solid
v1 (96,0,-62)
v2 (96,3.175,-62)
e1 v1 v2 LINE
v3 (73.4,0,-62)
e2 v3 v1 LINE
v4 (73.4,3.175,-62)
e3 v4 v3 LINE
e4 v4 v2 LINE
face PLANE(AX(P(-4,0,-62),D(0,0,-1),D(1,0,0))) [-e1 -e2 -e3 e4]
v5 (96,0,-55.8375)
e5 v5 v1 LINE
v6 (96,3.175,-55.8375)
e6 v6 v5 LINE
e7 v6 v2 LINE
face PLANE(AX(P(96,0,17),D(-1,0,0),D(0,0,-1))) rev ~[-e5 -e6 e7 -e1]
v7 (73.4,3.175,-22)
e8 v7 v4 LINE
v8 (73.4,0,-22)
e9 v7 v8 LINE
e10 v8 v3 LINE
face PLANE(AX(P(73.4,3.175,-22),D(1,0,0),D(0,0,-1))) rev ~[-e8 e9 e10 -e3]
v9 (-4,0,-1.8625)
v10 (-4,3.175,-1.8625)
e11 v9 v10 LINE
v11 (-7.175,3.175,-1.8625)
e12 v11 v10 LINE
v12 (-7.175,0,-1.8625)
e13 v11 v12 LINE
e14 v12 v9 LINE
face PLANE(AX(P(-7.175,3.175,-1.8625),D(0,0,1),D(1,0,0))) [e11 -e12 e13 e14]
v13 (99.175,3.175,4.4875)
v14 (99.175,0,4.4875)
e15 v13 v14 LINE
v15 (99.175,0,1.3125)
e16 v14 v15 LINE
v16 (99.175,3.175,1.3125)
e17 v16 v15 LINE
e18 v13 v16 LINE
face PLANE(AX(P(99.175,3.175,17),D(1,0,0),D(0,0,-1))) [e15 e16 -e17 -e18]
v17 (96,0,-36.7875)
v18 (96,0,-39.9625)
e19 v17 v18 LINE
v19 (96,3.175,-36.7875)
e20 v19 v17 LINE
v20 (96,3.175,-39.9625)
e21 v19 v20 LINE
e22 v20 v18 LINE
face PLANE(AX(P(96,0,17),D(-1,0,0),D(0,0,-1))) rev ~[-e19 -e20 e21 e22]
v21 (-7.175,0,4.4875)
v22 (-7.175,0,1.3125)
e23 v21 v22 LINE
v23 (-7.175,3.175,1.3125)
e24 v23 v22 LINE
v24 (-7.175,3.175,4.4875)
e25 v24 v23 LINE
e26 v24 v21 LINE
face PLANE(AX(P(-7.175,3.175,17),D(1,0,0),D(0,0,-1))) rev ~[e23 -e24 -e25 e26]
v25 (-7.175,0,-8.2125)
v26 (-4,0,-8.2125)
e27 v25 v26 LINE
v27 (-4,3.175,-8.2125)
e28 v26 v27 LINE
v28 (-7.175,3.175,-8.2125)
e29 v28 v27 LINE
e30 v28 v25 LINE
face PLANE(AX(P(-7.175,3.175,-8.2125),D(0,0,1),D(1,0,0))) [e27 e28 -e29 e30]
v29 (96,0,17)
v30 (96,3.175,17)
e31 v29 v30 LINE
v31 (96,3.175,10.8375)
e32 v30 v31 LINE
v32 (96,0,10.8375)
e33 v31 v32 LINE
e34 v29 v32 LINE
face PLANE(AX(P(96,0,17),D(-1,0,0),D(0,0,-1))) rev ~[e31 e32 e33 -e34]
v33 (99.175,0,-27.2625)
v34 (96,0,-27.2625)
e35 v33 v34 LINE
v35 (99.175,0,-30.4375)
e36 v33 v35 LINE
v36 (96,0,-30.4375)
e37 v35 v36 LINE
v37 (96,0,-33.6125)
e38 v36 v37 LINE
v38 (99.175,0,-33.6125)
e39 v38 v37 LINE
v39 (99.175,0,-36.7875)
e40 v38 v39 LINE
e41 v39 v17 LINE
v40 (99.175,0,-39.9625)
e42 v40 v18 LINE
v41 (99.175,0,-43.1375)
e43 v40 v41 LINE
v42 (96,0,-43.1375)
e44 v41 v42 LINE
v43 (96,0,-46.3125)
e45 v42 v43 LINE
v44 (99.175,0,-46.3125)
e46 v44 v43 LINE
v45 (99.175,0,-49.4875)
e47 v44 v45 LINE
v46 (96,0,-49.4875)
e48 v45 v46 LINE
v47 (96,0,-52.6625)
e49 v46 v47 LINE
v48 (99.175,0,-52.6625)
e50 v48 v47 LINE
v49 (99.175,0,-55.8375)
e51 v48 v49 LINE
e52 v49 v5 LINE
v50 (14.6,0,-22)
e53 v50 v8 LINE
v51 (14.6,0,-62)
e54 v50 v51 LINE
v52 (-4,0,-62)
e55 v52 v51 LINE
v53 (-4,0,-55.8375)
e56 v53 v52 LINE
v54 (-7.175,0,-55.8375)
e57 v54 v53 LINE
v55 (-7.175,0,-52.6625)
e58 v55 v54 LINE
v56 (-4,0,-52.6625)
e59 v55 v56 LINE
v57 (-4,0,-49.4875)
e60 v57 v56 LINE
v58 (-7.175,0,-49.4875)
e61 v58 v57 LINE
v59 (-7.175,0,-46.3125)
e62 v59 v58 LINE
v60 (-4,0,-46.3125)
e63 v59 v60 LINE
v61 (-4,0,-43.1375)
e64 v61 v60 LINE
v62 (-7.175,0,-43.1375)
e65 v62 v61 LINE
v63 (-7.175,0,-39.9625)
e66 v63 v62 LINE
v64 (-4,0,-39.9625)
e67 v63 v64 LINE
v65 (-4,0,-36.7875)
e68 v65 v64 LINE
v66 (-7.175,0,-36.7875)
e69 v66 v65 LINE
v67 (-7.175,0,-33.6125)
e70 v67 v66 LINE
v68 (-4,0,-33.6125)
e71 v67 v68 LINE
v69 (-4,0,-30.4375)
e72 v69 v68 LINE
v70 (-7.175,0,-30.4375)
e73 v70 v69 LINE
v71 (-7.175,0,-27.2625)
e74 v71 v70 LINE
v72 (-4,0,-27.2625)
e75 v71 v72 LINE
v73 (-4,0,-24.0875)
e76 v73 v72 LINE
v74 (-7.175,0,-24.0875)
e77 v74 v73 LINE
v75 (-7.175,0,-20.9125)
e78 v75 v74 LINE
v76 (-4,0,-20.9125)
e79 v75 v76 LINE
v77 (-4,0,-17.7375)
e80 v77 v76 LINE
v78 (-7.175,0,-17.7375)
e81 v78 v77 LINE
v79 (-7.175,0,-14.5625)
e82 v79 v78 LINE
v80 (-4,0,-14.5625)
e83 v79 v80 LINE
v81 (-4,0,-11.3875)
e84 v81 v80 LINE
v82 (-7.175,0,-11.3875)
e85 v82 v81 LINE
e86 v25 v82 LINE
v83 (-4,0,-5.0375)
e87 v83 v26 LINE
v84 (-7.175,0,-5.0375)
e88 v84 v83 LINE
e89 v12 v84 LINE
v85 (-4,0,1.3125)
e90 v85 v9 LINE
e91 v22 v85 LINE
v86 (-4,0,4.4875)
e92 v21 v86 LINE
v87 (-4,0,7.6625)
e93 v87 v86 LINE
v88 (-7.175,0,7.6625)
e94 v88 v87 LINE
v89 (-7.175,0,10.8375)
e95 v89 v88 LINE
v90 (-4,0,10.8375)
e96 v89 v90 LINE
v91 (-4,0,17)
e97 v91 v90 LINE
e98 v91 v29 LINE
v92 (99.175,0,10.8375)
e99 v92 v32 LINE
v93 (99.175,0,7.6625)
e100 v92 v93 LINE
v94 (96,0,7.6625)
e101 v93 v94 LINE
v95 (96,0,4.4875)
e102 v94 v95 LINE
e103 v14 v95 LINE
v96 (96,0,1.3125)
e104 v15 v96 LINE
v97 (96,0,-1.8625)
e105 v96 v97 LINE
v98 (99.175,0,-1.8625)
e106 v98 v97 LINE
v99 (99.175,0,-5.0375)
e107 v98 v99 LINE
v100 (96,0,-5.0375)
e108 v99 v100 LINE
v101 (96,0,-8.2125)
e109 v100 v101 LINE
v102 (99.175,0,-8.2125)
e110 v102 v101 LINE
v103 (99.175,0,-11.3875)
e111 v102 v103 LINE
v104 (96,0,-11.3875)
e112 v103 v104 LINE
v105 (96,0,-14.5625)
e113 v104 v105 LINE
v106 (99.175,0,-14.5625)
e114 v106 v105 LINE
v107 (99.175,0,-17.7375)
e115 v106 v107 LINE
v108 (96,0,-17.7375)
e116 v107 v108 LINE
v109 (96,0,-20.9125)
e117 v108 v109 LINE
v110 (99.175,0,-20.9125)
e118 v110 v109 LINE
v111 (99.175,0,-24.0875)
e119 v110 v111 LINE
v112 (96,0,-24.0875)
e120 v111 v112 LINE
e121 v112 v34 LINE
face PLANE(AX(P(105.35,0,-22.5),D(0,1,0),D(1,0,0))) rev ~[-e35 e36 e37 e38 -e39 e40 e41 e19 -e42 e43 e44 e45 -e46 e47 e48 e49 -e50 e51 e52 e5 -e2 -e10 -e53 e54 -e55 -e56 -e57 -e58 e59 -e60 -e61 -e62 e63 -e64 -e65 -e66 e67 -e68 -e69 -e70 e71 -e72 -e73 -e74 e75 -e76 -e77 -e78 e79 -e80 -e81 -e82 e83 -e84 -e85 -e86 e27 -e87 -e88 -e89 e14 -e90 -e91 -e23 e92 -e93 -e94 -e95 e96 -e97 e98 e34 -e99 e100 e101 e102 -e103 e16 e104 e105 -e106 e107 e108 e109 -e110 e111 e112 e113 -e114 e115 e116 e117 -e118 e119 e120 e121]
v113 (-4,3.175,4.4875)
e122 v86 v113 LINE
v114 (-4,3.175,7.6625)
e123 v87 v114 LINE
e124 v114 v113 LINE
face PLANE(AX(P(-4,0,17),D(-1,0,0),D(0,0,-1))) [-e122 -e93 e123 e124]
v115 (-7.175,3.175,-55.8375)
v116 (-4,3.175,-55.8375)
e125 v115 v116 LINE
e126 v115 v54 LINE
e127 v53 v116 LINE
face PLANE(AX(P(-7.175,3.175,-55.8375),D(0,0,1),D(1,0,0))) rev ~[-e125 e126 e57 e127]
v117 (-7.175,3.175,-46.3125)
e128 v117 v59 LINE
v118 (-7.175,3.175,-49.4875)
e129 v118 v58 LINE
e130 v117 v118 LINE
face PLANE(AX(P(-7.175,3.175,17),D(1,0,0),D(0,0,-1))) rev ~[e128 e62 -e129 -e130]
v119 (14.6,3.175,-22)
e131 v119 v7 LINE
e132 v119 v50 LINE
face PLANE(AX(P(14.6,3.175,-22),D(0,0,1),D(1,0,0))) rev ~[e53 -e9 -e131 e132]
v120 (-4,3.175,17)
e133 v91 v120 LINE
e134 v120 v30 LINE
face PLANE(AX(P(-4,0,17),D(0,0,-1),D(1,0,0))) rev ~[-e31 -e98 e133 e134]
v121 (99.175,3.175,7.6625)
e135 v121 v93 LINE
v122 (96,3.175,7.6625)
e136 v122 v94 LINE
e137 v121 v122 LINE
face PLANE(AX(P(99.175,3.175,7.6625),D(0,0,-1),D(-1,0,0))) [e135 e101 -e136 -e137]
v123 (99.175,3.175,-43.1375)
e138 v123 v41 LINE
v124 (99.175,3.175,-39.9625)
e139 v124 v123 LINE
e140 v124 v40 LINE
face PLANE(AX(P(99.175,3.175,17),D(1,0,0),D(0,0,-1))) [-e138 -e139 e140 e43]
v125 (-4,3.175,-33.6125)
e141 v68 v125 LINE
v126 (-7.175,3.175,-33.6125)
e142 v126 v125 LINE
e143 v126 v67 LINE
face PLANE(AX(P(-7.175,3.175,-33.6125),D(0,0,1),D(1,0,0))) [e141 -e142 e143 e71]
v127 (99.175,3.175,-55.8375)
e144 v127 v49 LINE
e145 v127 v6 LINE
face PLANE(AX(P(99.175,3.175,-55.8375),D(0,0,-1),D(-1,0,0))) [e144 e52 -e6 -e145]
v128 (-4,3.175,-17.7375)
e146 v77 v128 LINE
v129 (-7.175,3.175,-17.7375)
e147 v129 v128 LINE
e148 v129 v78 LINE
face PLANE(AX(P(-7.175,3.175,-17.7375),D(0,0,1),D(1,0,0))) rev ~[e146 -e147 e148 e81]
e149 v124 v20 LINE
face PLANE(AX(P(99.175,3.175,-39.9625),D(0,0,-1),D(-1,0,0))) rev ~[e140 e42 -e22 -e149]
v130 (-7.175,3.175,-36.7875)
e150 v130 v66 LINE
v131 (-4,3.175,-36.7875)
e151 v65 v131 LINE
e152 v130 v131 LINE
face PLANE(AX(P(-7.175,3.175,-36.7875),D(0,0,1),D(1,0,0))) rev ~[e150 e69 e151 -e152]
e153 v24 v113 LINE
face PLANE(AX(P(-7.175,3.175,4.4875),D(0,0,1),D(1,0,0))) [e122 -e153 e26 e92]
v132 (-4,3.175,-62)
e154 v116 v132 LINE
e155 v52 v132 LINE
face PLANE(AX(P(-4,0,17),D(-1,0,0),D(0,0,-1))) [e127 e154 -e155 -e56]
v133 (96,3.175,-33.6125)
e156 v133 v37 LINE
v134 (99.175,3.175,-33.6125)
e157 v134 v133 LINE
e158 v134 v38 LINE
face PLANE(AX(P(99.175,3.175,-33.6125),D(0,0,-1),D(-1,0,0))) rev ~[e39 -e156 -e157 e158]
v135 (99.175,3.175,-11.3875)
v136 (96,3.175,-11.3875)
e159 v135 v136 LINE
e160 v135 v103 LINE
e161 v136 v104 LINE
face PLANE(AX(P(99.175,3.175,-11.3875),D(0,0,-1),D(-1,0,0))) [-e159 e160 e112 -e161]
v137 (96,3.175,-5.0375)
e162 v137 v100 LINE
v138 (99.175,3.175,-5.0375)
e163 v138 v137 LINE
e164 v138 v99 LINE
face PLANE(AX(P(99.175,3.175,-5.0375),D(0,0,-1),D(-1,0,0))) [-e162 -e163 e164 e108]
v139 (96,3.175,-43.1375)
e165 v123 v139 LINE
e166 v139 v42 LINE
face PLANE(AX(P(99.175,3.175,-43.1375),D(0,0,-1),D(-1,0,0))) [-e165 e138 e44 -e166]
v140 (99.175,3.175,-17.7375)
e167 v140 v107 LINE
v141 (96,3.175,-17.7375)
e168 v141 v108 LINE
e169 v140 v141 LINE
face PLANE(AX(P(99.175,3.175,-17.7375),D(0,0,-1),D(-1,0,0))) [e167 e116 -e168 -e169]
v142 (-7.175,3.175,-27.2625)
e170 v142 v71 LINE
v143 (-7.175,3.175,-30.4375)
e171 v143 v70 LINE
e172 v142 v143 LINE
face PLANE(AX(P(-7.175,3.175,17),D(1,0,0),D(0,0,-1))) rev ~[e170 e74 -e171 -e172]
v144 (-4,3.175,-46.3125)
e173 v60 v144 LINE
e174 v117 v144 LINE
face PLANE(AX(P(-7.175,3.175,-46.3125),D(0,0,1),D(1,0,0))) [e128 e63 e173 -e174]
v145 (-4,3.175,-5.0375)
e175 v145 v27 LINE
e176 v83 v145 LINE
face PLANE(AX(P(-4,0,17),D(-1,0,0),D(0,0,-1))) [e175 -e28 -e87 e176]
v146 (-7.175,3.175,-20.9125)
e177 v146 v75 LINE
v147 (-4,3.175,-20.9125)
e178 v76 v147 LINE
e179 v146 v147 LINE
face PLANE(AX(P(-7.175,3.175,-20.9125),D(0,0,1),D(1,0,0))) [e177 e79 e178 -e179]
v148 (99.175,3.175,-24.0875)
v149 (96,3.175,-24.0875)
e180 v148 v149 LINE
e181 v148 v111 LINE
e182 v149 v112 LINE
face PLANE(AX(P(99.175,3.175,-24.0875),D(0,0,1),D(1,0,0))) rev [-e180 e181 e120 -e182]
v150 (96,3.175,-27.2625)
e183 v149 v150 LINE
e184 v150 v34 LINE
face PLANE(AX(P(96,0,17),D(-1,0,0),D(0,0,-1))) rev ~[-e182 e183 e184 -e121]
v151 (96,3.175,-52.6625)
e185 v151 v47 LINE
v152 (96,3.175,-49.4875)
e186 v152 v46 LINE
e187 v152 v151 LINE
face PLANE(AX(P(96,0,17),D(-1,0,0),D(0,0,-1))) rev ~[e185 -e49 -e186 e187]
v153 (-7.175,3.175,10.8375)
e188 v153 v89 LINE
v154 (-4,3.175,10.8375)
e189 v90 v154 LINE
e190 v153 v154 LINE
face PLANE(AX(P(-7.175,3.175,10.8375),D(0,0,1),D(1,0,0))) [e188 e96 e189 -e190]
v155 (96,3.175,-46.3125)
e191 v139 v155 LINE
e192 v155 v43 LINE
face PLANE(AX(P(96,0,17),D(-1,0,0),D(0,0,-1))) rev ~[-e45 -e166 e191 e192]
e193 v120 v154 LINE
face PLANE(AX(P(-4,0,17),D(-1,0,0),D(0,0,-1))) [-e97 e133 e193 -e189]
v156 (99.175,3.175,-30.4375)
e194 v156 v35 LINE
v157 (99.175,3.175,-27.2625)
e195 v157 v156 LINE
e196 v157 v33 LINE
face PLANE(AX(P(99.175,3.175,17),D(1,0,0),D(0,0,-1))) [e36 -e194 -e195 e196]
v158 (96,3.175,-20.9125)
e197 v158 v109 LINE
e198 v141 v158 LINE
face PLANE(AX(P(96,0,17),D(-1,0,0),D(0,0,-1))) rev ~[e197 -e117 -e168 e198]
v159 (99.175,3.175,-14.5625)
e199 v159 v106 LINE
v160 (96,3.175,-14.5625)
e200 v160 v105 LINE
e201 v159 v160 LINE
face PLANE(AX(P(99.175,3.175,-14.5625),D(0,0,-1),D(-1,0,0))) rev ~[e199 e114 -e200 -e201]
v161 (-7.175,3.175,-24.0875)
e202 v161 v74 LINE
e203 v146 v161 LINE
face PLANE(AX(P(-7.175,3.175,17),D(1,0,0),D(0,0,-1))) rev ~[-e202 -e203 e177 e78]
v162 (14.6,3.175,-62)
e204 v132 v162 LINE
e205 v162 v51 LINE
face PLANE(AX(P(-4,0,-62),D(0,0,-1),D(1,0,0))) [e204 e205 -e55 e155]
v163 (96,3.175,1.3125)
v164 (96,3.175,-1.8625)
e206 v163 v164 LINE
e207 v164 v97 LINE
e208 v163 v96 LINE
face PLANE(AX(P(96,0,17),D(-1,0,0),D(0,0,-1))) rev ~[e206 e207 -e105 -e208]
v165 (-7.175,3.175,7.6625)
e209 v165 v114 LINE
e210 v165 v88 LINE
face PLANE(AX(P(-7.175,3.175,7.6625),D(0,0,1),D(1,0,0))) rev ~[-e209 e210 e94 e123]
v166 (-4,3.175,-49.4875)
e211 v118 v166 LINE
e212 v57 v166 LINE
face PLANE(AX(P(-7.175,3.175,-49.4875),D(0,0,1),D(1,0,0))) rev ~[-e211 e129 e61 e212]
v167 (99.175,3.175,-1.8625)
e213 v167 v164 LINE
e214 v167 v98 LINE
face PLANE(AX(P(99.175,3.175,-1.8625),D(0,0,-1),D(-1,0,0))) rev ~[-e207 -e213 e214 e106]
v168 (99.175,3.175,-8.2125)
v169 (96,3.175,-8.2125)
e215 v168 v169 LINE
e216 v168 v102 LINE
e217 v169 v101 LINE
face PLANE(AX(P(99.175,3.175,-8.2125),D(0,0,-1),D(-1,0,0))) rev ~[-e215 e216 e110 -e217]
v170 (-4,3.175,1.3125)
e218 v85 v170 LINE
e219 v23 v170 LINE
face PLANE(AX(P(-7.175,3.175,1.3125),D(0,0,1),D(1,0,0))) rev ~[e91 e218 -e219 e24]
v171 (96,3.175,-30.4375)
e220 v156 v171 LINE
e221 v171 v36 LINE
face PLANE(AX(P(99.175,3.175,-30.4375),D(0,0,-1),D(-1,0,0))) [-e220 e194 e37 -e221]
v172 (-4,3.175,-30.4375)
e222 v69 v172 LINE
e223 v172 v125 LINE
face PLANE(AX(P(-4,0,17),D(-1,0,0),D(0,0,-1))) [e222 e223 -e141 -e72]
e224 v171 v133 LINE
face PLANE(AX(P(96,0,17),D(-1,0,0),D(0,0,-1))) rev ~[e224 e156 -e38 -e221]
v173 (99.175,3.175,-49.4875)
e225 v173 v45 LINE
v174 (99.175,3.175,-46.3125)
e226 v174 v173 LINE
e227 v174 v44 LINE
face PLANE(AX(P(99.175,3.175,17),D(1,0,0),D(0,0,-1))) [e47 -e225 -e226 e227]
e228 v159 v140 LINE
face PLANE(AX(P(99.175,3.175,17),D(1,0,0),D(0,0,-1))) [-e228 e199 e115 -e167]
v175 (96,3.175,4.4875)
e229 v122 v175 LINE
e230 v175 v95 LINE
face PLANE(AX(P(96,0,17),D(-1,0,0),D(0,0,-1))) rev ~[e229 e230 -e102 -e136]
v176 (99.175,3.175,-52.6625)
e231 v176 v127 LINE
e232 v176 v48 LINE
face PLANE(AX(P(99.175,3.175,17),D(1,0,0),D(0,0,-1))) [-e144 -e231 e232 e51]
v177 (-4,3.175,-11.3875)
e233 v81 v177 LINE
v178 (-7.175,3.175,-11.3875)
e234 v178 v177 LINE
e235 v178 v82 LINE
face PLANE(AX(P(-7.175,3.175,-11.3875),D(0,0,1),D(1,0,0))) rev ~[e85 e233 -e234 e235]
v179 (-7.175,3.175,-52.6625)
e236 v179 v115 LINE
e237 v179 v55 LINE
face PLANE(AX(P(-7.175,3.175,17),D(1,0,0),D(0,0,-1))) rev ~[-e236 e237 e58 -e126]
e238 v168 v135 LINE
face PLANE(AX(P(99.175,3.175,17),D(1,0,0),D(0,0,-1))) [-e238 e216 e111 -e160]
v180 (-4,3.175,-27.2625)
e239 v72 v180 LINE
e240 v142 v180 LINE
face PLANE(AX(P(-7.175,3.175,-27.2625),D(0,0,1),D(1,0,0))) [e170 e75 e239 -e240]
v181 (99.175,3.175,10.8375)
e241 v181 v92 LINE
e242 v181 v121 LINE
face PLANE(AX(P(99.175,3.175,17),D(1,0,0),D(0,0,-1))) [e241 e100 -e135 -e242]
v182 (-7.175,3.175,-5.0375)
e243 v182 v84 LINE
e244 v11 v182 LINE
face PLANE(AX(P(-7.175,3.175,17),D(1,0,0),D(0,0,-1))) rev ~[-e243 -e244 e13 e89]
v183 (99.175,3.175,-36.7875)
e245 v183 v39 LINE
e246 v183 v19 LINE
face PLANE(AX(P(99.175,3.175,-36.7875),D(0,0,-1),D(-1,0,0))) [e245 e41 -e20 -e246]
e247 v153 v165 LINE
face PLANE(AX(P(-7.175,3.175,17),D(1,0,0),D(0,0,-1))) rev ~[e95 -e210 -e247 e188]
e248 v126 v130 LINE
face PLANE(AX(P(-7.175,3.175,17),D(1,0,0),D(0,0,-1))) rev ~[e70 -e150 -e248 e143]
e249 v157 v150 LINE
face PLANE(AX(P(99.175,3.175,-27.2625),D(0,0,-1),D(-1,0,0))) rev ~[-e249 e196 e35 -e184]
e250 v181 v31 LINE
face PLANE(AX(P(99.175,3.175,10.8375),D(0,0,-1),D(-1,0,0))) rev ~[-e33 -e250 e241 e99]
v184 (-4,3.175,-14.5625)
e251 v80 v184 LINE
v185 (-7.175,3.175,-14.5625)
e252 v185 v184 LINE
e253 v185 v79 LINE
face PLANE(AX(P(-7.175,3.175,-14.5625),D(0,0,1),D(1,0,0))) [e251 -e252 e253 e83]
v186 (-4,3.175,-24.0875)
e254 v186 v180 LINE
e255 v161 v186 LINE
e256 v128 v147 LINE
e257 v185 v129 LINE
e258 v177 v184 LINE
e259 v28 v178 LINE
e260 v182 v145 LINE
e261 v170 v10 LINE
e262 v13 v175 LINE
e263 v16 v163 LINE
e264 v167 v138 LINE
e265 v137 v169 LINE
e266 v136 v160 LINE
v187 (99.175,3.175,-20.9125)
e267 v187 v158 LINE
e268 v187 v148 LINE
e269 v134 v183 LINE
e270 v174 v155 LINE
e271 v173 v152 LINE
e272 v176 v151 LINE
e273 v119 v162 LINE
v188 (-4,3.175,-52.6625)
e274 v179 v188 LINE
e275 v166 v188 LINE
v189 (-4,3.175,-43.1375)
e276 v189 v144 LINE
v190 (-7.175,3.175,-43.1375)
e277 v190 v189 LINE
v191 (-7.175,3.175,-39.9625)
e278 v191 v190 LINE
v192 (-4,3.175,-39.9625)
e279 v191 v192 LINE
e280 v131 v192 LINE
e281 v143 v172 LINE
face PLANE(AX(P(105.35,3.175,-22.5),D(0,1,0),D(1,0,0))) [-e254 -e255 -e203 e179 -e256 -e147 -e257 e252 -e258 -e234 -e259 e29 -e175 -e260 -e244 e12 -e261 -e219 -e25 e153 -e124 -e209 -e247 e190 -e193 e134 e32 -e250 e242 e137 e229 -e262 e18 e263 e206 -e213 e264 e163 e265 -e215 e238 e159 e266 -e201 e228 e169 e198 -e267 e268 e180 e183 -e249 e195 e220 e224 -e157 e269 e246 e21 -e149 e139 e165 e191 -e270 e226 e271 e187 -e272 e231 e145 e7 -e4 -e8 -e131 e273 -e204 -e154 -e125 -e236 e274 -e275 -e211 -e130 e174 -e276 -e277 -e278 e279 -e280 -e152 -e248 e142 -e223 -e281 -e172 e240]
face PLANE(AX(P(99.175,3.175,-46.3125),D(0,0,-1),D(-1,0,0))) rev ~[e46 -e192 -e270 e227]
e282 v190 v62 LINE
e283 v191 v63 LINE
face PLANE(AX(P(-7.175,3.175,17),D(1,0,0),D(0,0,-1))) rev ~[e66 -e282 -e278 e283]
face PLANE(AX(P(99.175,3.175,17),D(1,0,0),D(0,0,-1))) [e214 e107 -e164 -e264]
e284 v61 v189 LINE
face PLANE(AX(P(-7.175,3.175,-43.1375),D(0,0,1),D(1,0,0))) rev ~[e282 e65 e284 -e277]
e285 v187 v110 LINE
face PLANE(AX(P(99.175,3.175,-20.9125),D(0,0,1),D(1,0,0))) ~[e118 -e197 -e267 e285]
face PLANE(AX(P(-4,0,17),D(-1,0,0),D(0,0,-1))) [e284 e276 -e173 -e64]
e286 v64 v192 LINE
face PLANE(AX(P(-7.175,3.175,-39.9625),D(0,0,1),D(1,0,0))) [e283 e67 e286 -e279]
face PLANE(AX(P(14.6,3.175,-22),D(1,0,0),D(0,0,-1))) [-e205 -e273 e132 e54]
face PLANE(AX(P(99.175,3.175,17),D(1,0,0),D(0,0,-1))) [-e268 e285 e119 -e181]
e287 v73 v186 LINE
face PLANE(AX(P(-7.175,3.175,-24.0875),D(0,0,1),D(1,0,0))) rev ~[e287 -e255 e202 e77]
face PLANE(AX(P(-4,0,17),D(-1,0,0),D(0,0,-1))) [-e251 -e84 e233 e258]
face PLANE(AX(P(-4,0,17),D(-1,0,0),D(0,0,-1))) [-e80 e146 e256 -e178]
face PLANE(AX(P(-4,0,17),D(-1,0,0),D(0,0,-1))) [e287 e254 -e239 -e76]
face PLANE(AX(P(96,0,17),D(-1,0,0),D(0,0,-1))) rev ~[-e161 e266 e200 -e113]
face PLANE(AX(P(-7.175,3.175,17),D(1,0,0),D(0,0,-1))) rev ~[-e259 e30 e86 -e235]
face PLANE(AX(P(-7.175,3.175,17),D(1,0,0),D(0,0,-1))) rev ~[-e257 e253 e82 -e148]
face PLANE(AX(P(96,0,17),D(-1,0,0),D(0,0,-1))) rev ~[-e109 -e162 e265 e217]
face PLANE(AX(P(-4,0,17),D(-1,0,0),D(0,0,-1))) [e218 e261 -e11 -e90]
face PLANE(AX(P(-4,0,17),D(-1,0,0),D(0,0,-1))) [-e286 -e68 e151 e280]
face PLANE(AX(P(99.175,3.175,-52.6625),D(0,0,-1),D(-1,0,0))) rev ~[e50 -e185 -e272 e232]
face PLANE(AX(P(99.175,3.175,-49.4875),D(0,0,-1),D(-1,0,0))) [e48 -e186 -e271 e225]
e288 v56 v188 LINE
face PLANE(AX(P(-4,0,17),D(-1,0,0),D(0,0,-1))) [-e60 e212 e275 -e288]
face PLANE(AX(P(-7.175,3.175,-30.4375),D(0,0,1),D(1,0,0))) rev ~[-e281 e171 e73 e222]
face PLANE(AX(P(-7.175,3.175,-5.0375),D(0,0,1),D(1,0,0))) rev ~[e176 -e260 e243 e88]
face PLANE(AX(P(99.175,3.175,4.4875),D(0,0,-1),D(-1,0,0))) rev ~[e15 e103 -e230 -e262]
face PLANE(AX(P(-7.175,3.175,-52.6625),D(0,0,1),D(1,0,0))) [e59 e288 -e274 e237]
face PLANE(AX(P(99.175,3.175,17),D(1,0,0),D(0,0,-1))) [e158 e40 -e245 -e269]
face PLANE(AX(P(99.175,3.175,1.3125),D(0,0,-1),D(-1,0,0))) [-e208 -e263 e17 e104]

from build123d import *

# Parameters (mm, degrees)
SKETCH3_W                     = 100
SKETCH3_H                     = 79
BOSS_EXTRUDE1_DEPTH           = 3.175
SKETCH5_W                     = 58.8
SKETCH5_H                     = 40
CUT_EXTRUDE2_DEPTH            = 3.175
SKETCH11_W                    = 6.35
SKETCH11_H                    = 3.175
BOSS_EXTRUDE2_DEPTH           = 3.175
LPATTERN2_COUNT               = 6
LPATTERN2_PITCH               = 6.35
LPATTERN2_COPY_1_SKETCH_W     = 6.35
LPATTERN2_COPY_1_SKETCH_H     = 3.175
LPATTERN2_COPY_1_DEPTH        = 3.175
LPATTERN2_COPY_2_SKETCH_W     = 6.35
LPATTERN2_COPY_2_SKETCH_H     = 3.175
LPATTERN2_COPY_2_DEPTH        = 3.175
LPATTERN2_COPY_3_SKETCH_W     = 6.35
LPATTERN2_COPY_3_SKETCH_H     = 3.175
LPATTERN2_COPY_3_DEPTH        = 3.175
LPATTERN2_COPY_4_SKETCH_W     = 6.35
LPATTERN2_COPY_4_SKETCH_H     = 3.175
LPATTERN2_COPY_4_DEPTH        = 3.175
LPATTERN2_COPY_5_SKETCH_W     = 6.35
LPATTERN2_COPY_5_SKETCH_H     = 3.175
LPATTERN2_COPY_5_DEPTH        = 3.175
LPATTERN2_COL_COUNT           = 6
LPATTERN2_COL_PITCH           = 6.35
LPATTERN2_COL_COPY_1_SKETCH_W = 6.35
LPATTERN2_COL_COPY_1_SKETCH_H = 3.175
LPATTERN2_COL_COPY_1_DEPTH    = 3.175
LPATTERN2_COL_COPY_2_SKETCH_W = 6.35
LPATTERN2_COL_COPY_2_SKETCH_H = 3.175
LPATTERN2_COL_COPY_2_DEPTH    = 3.175
LPATTERN2_COL_COPY_3_SKETCH_W = 6.35
LPATTERN2_COL_COPY_3_SKETCH_H = 3.175
LPATTERN2_COL_COPY_3_DEPTH    = 3.175
LPATTERN2_COL_COPY_4_SKETCH_W = 6.35
LPATTERN2_COL_COPY_4_SKETCH_H = 3.175
LPATTERN2_COL_COPY_4_DEPTH    = 3.175
LPATTERN2_COL_COPY_5_SKETCH_W = 6.35
LPATTERN2_COL_COPY_5_SKETCH_H = 3.175
LPATTERN2_COL_COPY_5_DEPTH    = 3.175
SKETCH13_W                    = 12.35
SKETCH13_H                    = 79
BOSS_EXTRUDE4_DEPTH           = 3.175
SKETCH14_W                    = 12.35
SKETCH14_H                    = 79
BOSS_EXTRUDE5_DEPTH           = 3.175
SKETCH15_R                    = 1.5
CUT_EXTRUDE4_DEPTH            = 10
SKETCH16_R                    = 1.5
CUT_EXTRUDE5_DEPTH            = 10
SKETCH17_W                    = 12.35
SKETCH17_H                    = 79
CUT_EXTRUDE6_DEPTH            = 10


with BuildPart() as part:
    # Sketch3 → Boss-Extrude1 (new body)
    with BuildSketch(Plane(origin=(0, 0, 0), x_dir=(1, 0, 0), z_dir=(0, 1, 0))):
        with Locations((46, 22.5)):
            Rectangle(SKETCH3_W, SKETCH3_H)
    extrude(amount=BOSS_EXTRUDE1_DEPTH)

    # Sketch5 → Cut-Extrude2 (cut)
    with BuildSketch(Plane(origin=(0, 3.175, 0), x_dir=(1, 0, 0), z_dir=(0, 1, 0))):
        with Locations((44, 42)):
            Rectangle(SKETCH5_W, SKETCH5_H)
    extrude(amount=-CUT_EXTRUDE2_DEPTH, mode=Mode.SUBTRACT)

    # Sketch11 → Boss-Extrude2 (add)
    with BuildSketch(Plane(origin=(0, 3.175, 0), x_dir=(1, 0, 0), z_dir=(0, 1, 0))):
        with Locations((-4, 22.5)):
            Rectangle(SKETCH11_W, SKETCH11_H)
    boss_extrude2 = extrude(amount=-BOSS_EXTRUDE2_DEPTH)

    # Mirror2: Boss-Extrude2 across plane
    add(boss_extrude2.mirror(Plane.ZY.offset(-46)))

    # LPattern2: Boss-Extrude2 ×6
    with Locations(*[(0, 0, -i * LPATTERN2_PITCH) for i in range(1, LPATTERN2_COUNT)]):
        add(boss_extrude2)

    # LPattern2 copy 1 sketch → LPattern2 copy 1 (add)
    with BuildSketch(Plane(origin=(92, 3.175, -6.35), x_dir=(-1, 0, 0), z_dir=(0, 1, 0))):
        with Locations((-4, -22.5)):
            Rectangle(LPATTERN2_COPY_1_SKETCH_W, LPATTERN2_COPY_1_SKETCH_H)
    extrude(amount=-LPATTERN2_COPY_1_DEPTH)

    # LPattern2 copy 2 sketch → LPattern2 copy 2 (add)
    with BuildSketch(Plane(origin=(92, 3.175, -12.7), x_dir=(-1, 0, 0), z_dir=(0, 1, 0))):
        with Locations((-4, -22.5)):
            Rectangle(LPATTERN2_COPY_2_SKETCH_W, LPATTERN2_COPY_2_SKETCH_H)
    extrude(amount=-LPATTERN2_COPY_2_DEPTH)

    # LPattern2 copy 3 sketch → LPattern2 copy 3 (add)
    with BuildSketch(Plane(origin=(92, 3.175, -19.05), x_dir=(-1, 0, 0), z_dir=(0, 1, 0))):
        with Locations((-4, -22.5)):
            Rectangle(LPATTERN2_COPY_3_SKETCH_W, LPATTERN2_COPY_3_SKETCH_H)
    extrude(amount=-LPATTERN2_COPY_3_DEPTH)

    # LPattern2 copy 4 sketch → LPattern2 copy 4 (add)
    with BuildSketch(Plane(origin=(92, 3.175, -25.4), x_dir=(-1, 0, 0), z_dir=(0, 1, 0))):
        with Locations((-4, -22.5)):
            Rectangle(LPATTERN2_COPY_4_SKETCH_W, LPATTERN2_COPY_4_SKETCH_H)
    extrude(amount=-LPATTERN2_COPY_4_DEPTH)

    # LPattern2 copy 5 sketch → LPattern2 copy 5 (add)
    with BuildSketch(Plane(origin=(92, 3.175, -31.75), x_dir=(-1, 0, 0), z_dir=(0, 1, 0))):
        with Locations((-4, -22.5)):
            Rectangle(LPATTERN2_COPY_5_SKETCH_W, LPATTERN2_COPY_5_SKETCH_H)
    extrude(amount=-LPATTERN2_COPY_5_DEPTH)

    # LPattern2 col: Boss-Extrude2 ×6
    with Locations(*[(0, 0, i * LPATTERN2_COL_PITCH) for i in range(1, LPATTERN2_COL_COUNT)]):
        add(boss_extrude2)

    # LPattern2 col copy 1 sketch → LPattern2 col copy 1 (add)
    with BuildSketch(Plane(origin=(92, 3.175, 6.35), x_dir=(-1, 0, 0), z_dir=(0, 1, 0))):
        with Locations((-4, -22.5)):
            Rectangle(LPATTERN2_COL_COPY_1_SKETCH_W, LPATTERN2_COL_COPY_1_SKETCH_H)
    extrude(amount=-LPATTERN2_COL_COPY_1_DEPTH)

    # LPattern2 col copy 2 sketch → LPattern2 col copy 2 (add)
    with BuildSketch(Plane(origin=(92, 3.175, 12.7), x_dir=(-1, 0, 0), z_dir=(0, 1, 0))):
        with Locations((-4, -22.5)):
            Rectangle(LPATTERN2_COL_COPY_2_SKETCH_W, LPATTERN2_COL_COPY_2_SKETCH_H)
    extrude(amount=-LPATTERN2_COL_COPY_2_DEPTH)

    # LPattern2 col copy 3 sketch → LPattern2 col copy 3 (add)
    with BuildSketch(Plane(origin=(92, 3.175, 19.05), x_dir=(-1, 0, 0), z_dir=(0, 1, 0))):
        with Locations((-4, -22.5)):
            Rectangle(LPATTERN2_COL_COPY_3_SKETCH_W, LPATTERN2_COL_COPY_3_SKETCH_H)
    extrude(amount=-LPATTERN2_COL_COPY_3_DEPTH)

    # LPattern2 col copy 4 sketch → LPattern2 col copy 4 (add)
    with BuildSketch(Plane(origin=(92, 3.175, 25.4), x_dir=(-1, 0, 0), z_dir=(0, 1, 0))):
        with Locations((-4, -22.5)):
            Rectangle(LPATTERN2_COL_COPY_4_SKETCH_W, LPATTERN2_COL_COPY_4_SKETCH_H)
    extrude(amount=-LPATTERN2_COL_COPY_4_DEPTH)

    # LPattern2 col copy 5 sketch → LPattern2 col copy 5 (add)
    with BuildSketch(Plane(origin=(92, 3.175, 31.75), x_dir=(-1, 0, 0), z_dir=(0, 1, 0))):
        with Locations((-4, -22.5)):
            Rectangle(LPATTERN2_COL_COPY_5_SKETCH_W, LPATTERN2_COL_COPY_5_SKETCH_H)
    extrude(amount=-LPATTERN2_COL_COPY_5_DEPTH)

    # Sketch13 → Boss-Extrude4 (add)
    with BuildSketch(Plane(origin=(0, 3.175, 0), x_dir=(1, 0, 0), z_dir=(0, 1, 0))):
        with Locations((-13.35, 22.5)):
            Rectangle(SKETCH13_W, SKETCH13_H)
    extrude(amount=-BOSS_EXTRUDE4_DEPTH)

    # Sketch14 → Boss-Extrude5 (add)
    with BuildSketch(Plane(origin=(0, 3.175, 0), x_dir=(1, 0, 0), z_dir=(0, 1, 0))):
        with Locations((105.35, 22.5)):
            Rectangle(SKETCH14_W, SKETCH14_H)
    extrude(amount=-BOSS_EXTRUDE5_DEPTH)

    # Sketch15 → Cut-Extrude4 (cut)
    with BuildSketch(Plane(origin=(0, 3.175, 0), x_dir=(1, 0, 0), z_dir=(0, 1, 0))):
        with Locations(Location((-13.35, 54, 0), (0, 0, 270))):
            Circle(SKETCH15_R)
        with Locations(Location((-13.35, -9, 0), (0, 0, 270))):
            Circle(SKETCH15_R)
    extrude(amount=-CUT_EXTRUDE4_DEPTH, mode=Mode.SUBTRACT)

    # Sketch16 → Cut-Extrude5 (cut)
    with BuildSketch(Plane(origin=(0, 3.175, 0), x_dir=(1, 0, 0), z_dir=(0, 1, 0))):
        with Locations(Location((105.35, 54, 0), (0, 0, 270))):
            Circle(SKETCH16_R)
        with Locations(Location((105.35, -9, 0), (0, 0, 270))):
            Circle(SKETCH16_R)
    extrude(amount=-CUT_EXTRUDE5_DEPTH, mode=Mode.SUBTRACT)

    # Sketch17 → Cut-Extrude6 (cut)
    with BuildSketch(Plane(origin=(0, 3.175, 0), x_dir=(1, 0, 0), z_dir=(0, 1, 0))):
        with Locations((-13.35, 22.5)):
            Rectangle(SKETCH17_W, SKETCH17_H)
        with Locations((105.35, 22.5)):
            Rectangle(SKETCH17_W, SKETCH17_H)
    extrude(amount=-CUT_EXTRUDE6_DEPTH, mode=Mode.SUBTRACT)


solid = part.part
